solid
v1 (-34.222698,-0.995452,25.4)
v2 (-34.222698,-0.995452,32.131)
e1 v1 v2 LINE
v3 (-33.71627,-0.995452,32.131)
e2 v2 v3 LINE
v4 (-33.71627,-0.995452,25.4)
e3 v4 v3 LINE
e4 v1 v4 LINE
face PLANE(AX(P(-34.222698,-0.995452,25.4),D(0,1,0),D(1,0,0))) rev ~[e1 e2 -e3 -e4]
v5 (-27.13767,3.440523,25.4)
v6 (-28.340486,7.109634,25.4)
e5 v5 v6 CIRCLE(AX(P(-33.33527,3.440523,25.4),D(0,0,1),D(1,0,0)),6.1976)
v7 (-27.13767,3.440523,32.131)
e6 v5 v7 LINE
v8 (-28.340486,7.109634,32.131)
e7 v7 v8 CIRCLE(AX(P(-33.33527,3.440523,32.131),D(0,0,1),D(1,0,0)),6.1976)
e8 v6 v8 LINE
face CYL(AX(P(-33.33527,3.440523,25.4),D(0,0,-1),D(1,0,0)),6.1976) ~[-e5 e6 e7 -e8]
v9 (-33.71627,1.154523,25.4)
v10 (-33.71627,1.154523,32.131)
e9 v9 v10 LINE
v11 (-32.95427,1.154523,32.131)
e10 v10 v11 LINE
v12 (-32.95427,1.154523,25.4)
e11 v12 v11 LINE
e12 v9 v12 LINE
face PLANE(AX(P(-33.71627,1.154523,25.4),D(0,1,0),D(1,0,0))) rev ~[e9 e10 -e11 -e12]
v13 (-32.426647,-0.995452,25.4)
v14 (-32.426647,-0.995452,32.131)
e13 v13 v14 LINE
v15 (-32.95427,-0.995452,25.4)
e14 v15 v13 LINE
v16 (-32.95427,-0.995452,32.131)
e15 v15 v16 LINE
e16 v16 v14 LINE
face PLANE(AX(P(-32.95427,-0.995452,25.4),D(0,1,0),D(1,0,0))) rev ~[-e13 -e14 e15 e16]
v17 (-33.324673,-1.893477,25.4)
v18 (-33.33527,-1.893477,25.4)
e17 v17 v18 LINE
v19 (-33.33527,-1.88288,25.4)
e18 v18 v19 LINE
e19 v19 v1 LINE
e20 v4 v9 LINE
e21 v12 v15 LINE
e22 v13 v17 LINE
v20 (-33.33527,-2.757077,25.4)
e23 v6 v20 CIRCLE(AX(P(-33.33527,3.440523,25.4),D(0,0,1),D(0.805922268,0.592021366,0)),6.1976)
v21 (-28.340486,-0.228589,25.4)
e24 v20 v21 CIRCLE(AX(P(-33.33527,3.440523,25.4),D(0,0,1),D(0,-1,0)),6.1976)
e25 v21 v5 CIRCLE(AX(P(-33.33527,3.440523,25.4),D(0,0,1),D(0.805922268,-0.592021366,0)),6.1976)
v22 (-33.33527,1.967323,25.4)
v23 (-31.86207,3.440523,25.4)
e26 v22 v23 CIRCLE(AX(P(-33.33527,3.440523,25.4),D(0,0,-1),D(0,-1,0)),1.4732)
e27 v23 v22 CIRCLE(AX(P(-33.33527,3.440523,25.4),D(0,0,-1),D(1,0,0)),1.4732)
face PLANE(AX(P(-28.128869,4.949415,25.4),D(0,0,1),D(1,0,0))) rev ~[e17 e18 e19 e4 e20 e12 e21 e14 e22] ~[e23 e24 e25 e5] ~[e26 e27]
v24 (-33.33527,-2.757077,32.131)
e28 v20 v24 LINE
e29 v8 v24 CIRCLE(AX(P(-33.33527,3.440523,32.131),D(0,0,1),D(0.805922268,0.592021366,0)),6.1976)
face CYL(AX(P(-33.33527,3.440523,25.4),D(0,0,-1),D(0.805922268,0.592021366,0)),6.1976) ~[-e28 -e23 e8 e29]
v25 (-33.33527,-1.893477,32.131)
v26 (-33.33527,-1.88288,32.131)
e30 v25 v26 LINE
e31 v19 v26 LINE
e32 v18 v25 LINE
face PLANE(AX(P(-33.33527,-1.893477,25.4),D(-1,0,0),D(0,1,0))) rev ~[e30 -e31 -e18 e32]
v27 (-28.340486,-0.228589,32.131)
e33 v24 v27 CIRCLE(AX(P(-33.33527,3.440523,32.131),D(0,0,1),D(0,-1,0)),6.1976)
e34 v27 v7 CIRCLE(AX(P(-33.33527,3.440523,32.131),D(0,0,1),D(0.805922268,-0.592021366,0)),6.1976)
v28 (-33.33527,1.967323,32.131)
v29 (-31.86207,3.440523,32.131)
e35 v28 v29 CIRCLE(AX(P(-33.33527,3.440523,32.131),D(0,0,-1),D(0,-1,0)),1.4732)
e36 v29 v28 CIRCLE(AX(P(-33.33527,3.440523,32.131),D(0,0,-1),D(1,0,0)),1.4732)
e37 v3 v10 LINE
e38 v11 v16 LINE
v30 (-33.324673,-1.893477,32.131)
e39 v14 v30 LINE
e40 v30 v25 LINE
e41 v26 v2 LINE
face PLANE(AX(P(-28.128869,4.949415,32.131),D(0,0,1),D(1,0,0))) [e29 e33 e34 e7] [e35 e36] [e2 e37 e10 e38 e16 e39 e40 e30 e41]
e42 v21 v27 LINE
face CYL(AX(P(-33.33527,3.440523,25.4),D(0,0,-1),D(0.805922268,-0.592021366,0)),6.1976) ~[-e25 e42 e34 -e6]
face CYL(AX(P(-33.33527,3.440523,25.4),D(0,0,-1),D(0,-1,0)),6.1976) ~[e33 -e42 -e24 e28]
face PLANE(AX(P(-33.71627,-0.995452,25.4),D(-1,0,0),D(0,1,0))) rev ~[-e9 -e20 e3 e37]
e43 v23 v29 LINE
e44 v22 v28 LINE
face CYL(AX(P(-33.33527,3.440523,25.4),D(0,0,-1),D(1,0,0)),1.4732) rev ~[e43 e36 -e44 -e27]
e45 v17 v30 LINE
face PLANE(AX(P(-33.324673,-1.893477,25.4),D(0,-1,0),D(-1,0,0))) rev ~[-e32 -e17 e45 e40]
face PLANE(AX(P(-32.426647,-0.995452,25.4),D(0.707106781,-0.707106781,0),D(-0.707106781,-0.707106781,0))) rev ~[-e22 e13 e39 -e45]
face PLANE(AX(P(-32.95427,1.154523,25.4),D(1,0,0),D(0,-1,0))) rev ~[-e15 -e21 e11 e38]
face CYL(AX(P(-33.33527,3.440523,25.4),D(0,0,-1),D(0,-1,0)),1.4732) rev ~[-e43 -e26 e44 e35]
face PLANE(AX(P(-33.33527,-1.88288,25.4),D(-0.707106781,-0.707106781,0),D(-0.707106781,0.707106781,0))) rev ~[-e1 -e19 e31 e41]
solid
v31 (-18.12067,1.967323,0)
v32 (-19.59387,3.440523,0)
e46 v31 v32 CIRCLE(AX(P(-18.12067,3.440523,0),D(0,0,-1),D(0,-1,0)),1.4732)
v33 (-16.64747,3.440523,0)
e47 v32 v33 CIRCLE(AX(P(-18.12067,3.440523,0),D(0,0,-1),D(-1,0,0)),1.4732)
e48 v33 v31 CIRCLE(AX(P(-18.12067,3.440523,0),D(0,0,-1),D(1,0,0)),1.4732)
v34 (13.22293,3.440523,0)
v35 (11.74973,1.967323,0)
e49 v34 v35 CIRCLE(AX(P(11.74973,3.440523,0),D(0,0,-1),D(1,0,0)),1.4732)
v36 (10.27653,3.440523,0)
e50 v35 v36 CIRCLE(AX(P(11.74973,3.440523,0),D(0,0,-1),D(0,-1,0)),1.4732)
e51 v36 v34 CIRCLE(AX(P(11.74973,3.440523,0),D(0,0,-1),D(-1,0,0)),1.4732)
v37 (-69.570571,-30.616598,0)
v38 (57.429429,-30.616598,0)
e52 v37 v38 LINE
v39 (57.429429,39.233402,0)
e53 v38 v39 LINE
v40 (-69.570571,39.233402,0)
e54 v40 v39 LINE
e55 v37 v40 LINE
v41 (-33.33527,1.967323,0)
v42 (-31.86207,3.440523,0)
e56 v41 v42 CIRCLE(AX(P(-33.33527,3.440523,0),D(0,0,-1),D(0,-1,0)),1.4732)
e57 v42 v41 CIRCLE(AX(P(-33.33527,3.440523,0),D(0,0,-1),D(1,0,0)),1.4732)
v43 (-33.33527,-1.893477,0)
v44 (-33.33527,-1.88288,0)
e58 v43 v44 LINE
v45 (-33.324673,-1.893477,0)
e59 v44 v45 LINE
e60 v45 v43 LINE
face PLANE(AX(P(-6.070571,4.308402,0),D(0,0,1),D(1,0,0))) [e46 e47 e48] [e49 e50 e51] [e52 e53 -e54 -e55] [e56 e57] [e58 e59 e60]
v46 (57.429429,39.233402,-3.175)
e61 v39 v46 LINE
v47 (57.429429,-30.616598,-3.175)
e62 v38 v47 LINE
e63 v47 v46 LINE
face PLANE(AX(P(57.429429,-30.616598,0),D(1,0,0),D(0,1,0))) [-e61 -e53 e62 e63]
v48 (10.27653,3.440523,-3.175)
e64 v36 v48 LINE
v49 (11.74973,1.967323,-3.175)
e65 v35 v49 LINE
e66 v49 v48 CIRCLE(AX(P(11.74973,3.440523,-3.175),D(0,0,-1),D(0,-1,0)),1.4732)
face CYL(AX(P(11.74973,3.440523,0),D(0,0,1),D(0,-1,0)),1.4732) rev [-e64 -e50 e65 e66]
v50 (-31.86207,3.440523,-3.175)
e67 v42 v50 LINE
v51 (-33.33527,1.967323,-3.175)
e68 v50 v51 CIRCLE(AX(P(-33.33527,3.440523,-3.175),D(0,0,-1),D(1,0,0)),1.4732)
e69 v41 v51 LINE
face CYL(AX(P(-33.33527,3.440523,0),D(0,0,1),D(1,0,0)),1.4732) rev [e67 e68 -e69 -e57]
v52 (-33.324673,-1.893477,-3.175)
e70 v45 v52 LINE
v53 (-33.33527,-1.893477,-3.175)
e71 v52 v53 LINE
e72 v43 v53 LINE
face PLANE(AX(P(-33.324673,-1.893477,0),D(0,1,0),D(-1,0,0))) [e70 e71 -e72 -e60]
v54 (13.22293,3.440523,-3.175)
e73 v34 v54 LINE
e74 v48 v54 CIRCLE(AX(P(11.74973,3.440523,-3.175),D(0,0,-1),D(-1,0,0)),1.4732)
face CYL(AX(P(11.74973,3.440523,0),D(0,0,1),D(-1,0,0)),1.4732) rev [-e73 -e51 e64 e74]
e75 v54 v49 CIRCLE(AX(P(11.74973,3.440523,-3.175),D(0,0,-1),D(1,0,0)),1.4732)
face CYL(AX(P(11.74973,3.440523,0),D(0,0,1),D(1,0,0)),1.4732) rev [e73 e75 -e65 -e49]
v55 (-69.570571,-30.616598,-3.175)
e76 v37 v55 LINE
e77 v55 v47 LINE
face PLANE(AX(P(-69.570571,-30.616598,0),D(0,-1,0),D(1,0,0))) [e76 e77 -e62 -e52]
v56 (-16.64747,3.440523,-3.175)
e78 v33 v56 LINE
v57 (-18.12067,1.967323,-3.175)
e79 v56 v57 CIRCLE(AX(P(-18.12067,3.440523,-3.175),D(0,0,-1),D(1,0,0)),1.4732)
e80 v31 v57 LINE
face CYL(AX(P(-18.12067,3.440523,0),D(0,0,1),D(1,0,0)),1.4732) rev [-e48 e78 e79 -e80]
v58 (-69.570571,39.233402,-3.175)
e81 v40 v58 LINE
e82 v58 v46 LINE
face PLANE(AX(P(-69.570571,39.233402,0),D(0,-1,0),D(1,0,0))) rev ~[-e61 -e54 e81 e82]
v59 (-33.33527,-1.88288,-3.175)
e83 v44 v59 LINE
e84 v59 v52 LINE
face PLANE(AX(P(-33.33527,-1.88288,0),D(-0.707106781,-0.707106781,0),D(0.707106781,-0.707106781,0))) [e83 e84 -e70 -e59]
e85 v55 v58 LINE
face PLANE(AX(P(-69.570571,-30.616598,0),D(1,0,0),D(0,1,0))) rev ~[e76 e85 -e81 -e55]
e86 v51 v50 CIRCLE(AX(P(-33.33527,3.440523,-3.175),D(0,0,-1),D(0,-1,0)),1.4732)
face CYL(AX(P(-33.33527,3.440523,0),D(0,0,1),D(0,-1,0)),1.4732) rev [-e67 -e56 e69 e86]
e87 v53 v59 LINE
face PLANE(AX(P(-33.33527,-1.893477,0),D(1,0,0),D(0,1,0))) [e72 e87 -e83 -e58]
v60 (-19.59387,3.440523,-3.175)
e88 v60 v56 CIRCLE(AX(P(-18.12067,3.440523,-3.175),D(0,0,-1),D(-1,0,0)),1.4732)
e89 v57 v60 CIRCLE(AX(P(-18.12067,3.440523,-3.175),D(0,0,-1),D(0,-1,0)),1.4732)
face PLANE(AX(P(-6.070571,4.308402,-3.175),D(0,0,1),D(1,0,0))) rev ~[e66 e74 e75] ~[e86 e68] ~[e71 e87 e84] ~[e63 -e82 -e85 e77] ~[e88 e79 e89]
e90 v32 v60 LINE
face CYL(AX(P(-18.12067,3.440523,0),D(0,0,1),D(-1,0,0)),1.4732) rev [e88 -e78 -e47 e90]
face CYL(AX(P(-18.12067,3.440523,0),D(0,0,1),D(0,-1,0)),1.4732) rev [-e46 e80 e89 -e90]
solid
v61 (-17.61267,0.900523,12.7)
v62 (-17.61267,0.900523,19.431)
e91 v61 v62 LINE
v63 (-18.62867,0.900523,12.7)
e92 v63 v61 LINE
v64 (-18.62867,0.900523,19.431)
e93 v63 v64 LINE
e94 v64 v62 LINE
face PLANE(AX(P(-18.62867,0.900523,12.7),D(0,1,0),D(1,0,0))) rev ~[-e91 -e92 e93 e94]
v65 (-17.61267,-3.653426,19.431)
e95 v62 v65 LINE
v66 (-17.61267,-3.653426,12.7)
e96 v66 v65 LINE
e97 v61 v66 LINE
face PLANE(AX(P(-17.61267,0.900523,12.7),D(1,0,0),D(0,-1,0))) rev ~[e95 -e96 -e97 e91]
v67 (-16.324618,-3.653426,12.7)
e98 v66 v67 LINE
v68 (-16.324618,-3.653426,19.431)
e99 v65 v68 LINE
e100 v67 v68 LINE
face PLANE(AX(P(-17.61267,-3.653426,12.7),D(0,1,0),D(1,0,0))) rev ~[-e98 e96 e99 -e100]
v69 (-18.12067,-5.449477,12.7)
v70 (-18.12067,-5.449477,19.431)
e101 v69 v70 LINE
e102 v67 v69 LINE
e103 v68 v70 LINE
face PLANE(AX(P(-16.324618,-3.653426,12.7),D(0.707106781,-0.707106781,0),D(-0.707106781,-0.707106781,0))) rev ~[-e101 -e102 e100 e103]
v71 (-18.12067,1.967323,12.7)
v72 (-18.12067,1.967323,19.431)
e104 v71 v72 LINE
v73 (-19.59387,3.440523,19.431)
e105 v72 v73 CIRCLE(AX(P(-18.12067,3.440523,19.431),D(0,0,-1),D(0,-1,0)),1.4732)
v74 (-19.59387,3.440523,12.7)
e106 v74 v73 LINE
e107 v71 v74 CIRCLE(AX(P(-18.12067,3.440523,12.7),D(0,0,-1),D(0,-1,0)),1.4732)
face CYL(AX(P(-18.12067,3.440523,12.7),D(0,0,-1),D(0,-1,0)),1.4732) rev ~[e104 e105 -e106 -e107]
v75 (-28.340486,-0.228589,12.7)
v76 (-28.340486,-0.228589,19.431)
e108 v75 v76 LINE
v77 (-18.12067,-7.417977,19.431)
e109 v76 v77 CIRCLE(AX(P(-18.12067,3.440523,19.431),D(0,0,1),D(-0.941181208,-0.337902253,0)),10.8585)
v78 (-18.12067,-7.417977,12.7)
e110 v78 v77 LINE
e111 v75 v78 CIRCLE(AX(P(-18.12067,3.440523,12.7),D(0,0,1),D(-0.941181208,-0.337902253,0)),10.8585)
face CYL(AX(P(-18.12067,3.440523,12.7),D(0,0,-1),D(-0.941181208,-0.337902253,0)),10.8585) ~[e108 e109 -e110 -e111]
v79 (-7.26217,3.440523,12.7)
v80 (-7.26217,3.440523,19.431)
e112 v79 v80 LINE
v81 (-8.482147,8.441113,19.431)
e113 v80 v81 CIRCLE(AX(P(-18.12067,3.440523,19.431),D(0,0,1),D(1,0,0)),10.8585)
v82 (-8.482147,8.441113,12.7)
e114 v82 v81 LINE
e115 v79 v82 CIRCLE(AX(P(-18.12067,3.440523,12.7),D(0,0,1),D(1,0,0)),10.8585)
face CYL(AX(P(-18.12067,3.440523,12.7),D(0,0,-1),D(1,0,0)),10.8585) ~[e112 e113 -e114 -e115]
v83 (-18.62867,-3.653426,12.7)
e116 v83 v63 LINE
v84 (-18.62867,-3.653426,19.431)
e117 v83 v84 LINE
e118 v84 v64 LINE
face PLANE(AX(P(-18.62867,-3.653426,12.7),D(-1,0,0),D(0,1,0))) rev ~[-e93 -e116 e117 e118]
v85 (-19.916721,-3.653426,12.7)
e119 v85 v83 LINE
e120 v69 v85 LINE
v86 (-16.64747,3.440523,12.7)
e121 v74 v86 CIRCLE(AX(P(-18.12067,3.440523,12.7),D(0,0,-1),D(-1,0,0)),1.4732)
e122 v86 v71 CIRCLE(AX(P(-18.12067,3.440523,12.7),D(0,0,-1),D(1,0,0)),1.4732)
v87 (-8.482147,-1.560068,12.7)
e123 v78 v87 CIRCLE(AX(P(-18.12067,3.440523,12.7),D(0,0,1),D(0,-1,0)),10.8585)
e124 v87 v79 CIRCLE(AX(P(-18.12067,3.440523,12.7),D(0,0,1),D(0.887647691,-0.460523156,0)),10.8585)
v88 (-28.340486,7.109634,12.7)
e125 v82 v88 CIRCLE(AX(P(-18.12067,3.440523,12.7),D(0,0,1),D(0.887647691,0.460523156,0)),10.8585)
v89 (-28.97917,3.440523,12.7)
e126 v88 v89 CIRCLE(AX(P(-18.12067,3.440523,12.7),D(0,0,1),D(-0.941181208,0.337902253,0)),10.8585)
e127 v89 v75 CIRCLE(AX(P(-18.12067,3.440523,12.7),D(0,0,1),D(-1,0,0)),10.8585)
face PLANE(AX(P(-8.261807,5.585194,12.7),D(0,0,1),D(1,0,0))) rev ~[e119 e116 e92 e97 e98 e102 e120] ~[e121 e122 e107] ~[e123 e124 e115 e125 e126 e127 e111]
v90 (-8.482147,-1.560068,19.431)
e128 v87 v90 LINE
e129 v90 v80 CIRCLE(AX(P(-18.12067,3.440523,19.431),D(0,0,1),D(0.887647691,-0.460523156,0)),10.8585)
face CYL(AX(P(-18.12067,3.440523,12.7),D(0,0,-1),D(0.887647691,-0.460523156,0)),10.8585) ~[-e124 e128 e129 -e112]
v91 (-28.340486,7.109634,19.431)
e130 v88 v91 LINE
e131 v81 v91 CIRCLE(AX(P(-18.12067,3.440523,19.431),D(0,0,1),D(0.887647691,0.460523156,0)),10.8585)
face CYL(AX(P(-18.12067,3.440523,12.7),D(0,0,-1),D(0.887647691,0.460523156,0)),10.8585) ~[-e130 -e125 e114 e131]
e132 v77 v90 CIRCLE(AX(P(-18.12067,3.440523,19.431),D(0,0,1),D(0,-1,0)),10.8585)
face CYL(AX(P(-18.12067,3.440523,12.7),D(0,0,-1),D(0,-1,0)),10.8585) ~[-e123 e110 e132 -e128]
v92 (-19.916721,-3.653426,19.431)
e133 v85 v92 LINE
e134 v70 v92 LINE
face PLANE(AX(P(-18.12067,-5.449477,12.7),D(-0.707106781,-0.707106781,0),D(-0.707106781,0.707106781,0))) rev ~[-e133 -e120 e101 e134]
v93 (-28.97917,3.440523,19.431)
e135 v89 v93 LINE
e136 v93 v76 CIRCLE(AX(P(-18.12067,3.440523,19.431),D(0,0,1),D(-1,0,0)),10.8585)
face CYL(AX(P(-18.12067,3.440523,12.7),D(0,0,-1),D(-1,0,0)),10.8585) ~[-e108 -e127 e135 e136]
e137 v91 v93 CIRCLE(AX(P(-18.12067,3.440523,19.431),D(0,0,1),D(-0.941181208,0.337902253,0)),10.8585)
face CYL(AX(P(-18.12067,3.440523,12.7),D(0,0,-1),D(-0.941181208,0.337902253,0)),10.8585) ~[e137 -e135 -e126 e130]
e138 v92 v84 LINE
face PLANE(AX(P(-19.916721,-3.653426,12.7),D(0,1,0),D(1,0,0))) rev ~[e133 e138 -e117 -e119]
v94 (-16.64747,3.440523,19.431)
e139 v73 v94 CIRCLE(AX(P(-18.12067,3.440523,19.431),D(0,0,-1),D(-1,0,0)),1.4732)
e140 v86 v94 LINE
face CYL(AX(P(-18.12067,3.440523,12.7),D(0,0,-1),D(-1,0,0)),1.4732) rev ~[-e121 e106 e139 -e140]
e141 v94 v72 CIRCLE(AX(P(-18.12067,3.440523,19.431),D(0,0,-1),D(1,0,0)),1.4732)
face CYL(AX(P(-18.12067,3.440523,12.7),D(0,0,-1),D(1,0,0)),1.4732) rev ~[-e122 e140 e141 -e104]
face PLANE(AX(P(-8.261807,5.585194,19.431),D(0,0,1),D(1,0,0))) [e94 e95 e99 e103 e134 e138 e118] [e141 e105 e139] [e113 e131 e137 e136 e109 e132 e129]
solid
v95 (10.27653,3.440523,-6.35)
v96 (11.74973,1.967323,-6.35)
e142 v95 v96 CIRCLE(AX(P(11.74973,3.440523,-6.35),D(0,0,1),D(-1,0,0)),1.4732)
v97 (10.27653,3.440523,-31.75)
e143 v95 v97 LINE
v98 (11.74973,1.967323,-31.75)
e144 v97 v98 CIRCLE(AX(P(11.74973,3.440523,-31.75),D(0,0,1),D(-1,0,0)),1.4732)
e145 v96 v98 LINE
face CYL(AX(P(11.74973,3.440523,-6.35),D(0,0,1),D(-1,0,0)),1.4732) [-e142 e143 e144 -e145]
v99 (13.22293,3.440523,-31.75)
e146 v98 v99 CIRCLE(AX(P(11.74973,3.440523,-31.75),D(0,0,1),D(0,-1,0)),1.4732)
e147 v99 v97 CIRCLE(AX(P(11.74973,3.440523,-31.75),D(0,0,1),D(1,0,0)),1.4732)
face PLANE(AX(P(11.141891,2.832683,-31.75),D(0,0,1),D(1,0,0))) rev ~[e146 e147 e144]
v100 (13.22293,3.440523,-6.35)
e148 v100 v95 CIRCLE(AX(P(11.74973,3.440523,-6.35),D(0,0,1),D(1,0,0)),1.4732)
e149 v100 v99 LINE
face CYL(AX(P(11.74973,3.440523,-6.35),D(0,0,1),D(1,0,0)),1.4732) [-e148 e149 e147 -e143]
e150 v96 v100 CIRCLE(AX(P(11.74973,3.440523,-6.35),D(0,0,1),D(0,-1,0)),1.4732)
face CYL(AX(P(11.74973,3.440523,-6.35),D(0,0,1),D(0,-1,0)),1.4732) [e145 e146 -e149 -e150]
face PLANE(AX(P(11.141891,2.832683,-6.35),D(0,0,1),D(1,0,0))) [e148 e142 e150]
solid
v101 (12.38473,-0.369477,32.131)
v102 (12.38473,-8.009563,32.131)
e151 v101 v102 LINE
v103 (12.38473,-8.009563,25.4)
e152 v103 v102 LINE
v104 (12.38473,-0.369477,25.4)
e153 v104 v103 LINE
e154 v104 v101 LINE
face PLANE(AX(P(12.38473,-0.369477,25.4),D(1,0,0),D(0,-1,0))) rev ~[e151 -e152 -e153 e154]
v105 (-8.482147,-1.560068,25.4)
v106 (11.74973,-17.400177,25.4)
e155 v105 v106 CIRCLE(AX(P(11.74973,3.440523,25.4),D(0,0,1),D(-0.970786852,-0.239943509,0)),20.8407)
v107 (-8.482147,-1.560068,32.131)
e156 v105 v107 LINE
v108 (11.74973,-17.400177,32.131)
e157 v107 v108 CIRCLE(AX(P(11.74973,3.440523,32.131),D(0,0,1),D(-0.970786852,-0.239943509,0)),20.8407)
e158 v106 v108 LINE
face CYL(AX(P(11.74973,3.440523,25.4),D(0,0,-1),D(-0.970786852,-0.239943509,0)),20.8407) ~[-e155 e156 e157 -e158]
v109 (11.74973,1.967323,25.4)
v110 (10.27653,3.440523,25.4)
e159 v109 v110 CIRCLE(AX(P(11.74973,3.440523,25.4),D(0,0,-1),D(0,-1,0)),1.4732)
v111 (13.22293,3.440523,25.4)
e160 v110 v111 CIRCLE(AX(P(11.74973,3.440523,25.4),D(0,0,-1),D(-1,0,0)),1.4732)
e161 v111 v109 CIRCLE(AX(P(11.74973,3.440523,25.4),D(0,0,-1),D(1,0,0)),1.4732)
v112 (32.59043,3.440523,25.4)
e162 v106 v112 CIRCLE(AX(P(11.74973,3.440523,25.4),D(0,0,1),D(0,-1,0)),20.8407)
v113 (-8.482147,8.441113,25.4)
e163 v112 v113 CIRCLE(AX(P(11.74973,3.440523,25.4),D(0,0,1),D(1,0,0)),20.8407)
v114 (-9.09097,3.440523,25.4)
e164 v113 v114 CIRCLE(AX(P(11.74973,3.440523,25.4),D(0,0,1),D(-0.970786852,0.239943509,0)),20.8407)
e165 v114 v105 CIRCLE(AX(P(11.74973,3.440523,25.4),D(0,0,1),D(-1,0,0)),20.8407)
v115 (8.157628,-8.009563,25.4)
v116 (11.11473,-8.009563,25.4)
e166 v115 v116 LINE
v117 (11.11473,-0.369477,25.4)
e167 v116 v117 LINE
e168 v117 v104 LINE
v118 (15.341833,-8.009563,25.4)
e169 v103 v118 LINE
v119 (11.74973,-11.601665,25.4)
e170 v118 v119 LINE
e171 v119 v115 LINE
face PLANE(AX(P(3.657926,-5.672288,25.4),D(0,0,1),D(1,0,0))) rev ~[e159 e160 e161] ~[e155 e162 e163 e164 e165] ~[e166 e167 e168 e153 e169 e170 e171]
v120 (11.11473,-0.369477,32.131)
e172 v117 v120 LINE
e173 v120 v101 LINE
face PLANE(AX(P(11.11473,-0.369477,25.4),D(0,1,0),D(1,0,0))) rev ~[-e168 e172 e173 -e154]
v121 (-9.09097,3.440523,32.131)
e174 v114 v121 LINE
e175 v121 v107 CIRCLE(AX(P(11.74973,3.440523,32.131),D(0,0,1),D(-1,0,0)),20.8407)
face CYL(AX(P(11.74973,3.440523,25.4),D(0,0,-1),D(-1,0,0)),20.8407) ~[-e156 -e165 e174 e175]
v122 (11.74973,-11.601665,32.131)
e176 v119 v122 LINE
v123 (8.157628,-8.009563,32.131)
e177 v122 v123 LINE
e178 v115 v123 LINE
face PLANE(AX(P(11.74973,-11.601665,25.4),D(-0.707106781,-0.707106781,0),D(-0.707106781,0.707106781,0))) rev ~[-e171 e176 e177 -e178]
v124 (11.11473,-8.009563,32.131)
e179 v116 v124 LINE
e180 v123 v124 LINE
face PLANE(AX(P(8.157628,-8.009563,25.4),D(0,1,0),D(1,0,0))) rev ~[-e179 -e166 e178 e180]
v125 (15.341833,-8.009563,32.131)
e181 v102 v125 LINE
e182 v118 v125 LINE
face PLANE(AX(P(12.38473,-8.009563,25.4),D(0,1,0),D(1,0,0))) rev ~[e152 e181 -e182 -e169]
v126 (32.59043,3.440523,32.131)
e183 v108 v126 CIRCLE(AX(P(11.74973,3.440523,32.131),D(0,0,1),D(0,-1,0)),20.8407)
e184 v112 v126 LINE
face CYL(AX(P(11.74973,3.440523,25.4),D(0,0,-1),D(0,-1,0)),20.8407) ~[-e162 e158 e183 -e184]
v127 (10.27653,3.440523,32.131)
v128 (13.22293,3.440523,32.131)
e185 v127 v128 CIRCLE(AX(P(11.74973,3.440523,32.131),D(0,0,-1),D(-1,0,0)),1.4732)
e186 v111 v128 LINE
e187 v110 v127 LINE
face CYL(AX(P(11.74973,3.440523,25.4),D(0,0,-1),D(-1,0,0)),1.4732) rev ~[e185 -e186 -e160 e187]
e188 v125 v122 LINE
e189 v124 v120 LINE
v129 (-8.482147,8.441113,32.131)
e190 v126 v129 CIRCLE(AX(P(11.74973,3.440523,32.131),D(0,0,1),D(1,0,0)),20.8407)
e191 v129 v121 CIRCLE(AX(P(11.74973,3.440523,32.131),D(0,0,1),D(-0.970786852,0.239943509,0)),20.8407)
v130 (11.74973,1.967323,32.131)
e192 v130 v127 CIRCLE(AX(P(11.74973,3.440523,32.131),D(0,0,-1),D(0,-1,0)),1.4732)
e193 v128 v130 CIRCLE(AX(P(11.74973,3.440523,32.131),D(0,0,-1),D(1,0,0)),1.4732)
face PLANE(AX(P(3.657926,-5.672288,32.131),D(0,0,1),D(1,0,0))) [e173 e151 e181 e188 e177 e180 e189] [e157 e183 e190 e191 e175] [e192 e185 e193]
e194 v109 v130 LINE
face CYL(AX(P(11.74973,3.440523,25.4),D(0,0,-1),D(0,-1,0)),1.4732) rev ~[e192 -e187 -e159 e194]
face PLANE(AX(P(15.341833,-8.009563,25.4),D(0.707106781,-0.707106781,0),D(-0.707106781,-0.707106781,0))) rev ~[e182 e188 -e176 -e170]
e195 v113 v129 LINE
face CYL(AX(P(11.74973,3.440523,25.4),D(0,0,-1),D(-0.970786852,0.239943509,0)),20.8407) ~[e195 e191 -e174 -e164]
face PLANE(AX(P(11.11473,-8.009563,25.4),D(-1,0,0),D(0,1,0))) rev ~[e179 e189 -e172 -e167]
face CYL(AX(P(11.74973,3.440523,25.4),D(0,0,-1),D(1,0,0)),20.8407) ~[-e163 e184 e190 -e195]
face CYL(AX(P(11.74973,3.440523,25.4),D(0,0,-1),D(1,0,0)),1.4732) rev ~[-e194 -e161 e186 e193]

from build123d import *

# Parameters (mm, degrees)
F0_W     = 127
F0_H     = 69.85
F0_W_2   = 0.381
F0_H_2   = 2.1499743879
F0_W_3   = 0.508
F0_H_3   = 4.5539487758
F0_W_4   = 0.635
F0_H_4   = 7.6400852611
F1_DEPTH = 3.175
F2_START = 25.4
F2_DEPTH = 6.731
F3_START = 25.4
F3_DEPTH = 6.731
F4_START = 12.7
F4_DEPTH = 6.731
F5_START = -6.35
F5_DEPTH = 25.4


with BuildPart() as f1:
    # F0 (on Top) → F1 (new body)
    with BuildSketch(Plane.XY):
        with Locations((-6.0705711842, 4.3084023254)):
            Rectangle(F0_W, F0_H)
        with BuildLine():
            ThreePointArc((-33.3352696088, -2.7570773477), (-38.8647330515, 6.2396796318), (-28.3404857607, 7.1096342711))
            ThreePointArc((-28.3404857607, 7.1096342711), (-18.8470887176, 14.2746971722), (-8.4821471598, 8.4411133425))
            ThreePointArc((-8.4821471598, 8.4411133425), (14.2684886182, 24.1284571428), (32.5904303912, 3.4405226523))
            ThreePointArc((32.5904303912, 3.4405226523), (26.4863306859, -11.2960776424), (11.7497303912, -17.4001773477))
            ThreePointArc((11.7497303912, -17.4001773477), (-1.0978173533, -12.9690871372), (-8.4821471598, -1.5600680379))
            ThreePointArc((-8.4821471598, -1.5600680379), (-12.4811612862, -5.8386458519), (-18.1206696088, -7.4179773477))
            ThreePointArc((-18.1206696088, -7.4179773477), (-24.3683081122, -5.4405828747), (-28.3404857607, -0.2285889665))
            ThreePointArc((-28.3404857607, -0.2285889665), (-30.5361126293, -2.0889407904), (-33.3352696088, -2.7570773477))
        make_face(mode=Mode.SUBTRACT)
        with BuildLine():
            Line((10.2765303912, 3.4405226523), (-7.2621696088, 3.4405226523))
            ThreePointArc((-7.2621696088, 3.4405226523), (-7.5715720582, 0.8668942566), (-8.4821471598, -1.5600680379))
            ThreePointArc((-8.4821471598, -1.5600680379), (-1.0978173533, -12.9690871372), (11.7497303912, -17.4001773477))
            Line((11.7497303912, -17.4001773477), (11.7497303912, -11.6016650572))
            Line((11.7497303912, -11.6016650572), (11.1147303912, -11.6016650572))
            Line((11.1147303912, -11.6016650572), (11.1147303912, -10.9666650572))
            Line((11.1147303912, -10.9666650572), (8.1576279428, -8.0095626088))
            Line((8.1576279428, -8.0095626088), (11.1147303912, -8.0095626088))
            Line((11.1147303912, -8.0095626088), (11.1147303912, -0.3694773477))
            Line((11.1147303912, -0.3694773477), (11.7497303912, -0.3694773477))
            Line((11.7497303912, -0.3694773477), (11.7497303912, 1.9673226523))
            ThreePointArc((11.7497303912, 1.9673226523), (10.7080206812, 2.3988129423), (10.2765303912, 3.4405226523))
        make_face()
        with BuildLine():
            ThreePointArc((32.5904303912, 3.4405226523), (14.2684886182, 24.1284571428), (-8.4821471598, 8.4411133425))
            ThreePointArc((-8.4821471598, 8.4411133425), (-7.5715720582, 6.0141510479), (-7.2621696088, 3.4405226523))
            Line((-7.2621696088, 3.4405226523), (10.2765303912, 3.4405226523))
            ThreePointArc((10.2765303912, 3.4405226523), (11.7497303912, 4.9137226523), (13.2229303912, 3.4405226523))
            ThreePointArc((13.2229303912, 3.4405226523), (12.7914401012, 2.3988129423), (11.7497303912, 1.9673226523))
            Line((11.7497303912, 1.9673226523), (11.7497303912, -0.3694773477))
            Line((11.7497303912, -0.3694773477), (12.3847303912, -0.3694773477))
            Line((12.3847303912, -0.3694773477), (12.3847303912, -8.0095626088))
            Line((12.3847303912, -8.0095626088), (15.3418328396, -8.0095626088))
            Line((15.3418328396, -8.0095626088), (12.3847303912, -10.9666650572))
            Line((12.3847303912, -10.9666650572), (12.3847303912, -11.6016650572))
            Line((12.3847303912, -11.6016650572), (11.7497303912, -11.6016650572))
            Line((11.7497303912, -11.6016650572), (11.7497303912, -17.4001773477))
            ThreePointArc((11.7497303912, -17.4001773477), (26.4863306859, -11.2960776424), (32.5904303912, 3.4405226523))
        make_face()
        with BuildLine():
            ThreePointArc((-28.3404857607, 7.1096342711), (-27.4460456303, 5.3711408672), (-27.1376696088, 3.4405226523))
            Line((-27.1376696088, 3.4405226523), (-19.5938696088, 3.4405226523))
            ThreePointArc((-19.5938696088, 3.4405226523), (-18.1206696088, 4.9137226523), (-16.6474696088, 3.4405226523))
            Line((-16.6474696088, 3.4405226523), (-9.0909696088, 3.4405226523))
            ThreePointArc((-9.0909696088, 3.4405226523), (-8.9382040993, 5.9592808793), (-8.4821471598, 8.4411133425))
            ThreePointArc((-8.4821471598, 8.4411133425), (-18.8470887176, 14.2746971722), (-28.3404857607, 7.1096342711))
        make_face()
        with BuildLine():
            ThreePointArc((-33.3352696088, 1.9673226523), (-34.3769793188, 4.4822323623), (-31.8620696088, 3.4405226523))
            Line((-31.8620696088, 3.4405226523), (-28.9791696088, 3.4405226523))
            ThreePointArc((-28.9791696088, 3.4405226523), (-28.8183071035, 5.3026650427), (-28.3404857607, 7.1096342711))
            ThreePointArc((-28.3404857607, 7.1096342711), (-38.8647330515, 6.2396796318), (-33.3352696088, -2.7570773477))
            Line((-33.3352696088, -2.7570773477), (-33.3352696088, -1.8934773477))
            Line((-33.3352696088, -1.8934773477), (-33.3352696088, -1.8828803738))
            Line((-33.3352696088, -1.8828803738), (-34.222698247, -0.9954517356))
            Line((-34.222698247, -0.9954517356), (-33.7162696088, -0.9954517356))
            Line((-33.7162696088, -0.9954517356), (-33.7162696088, 1.1545226523))
            Line((-33.7162696088, 1.1545226523), (-33.3352696088, 1.1545226523))
            Line((-33.3352696088, 1.1545226523), (-33.3352696088, 1.9673226523))
        make_face()
        with BuildLine():
            Line((-28.9791696088, 3.4405226523), (-31.8620696088, 3.4405226523))
            ThreePointArc((-31.8620696088, 3.4405226523), (-32.2935598988, 2.3988129423), (-33.3352696088, 1.9673226523))
            Line((-33.3352696088, 1.9673226523), (-33.3352696088, 1.1545226523))
            Line((-33.3352696088, 1.1545226523), (-32.9542696088, 1.1545226523))
            Line((-32.9542696088, 1.1545226523), (-32.9542696088, -0.9954517356))
            Line((-32.9542696088, -0.9954517356), (-32.4266470228, -0.9954517356))
            Line((-32.4266470228, -0.9954517356), (-32.9542696088, -1.5230743216))
            Line((-32.9542696088, -1.5230743216), (-32.9542696088, -1.8934773477))
            Line((-32.9542696088, -1.8934773477), (-33.3246726349, -1.8934773477))
            Line((-33.3246726349, -1.8934773477), (-33.3352696088, -1.8934773477))
            Line((-33.3352696088, -1.8934773477), (-33.3352696088, -2.7570773477))
            ThreePointArc((-33.3352696088, -2.7570773477), (-30.5361126293, -2.0889407904), (-28.3404857607, -0.2285889665))
            ThreePointArc((-28.3404857607, -0.2285889665), (-28.8183071035, 1.5783802619), (-28.9791696088, 3.4405226523))
        make_face()
        with BuildLine():
            Line((-27.1376696088, 3.4405226523), (-28.9791696088, 3.4405226523))
            ThreePointArc((-28.9791696088, 3.4405226523), (-28.8183071035, 1.5783802619), (-28.3404857607, -0.2285889665))
            ThreePointArc((-28.3404857607, -0.2285889665), (-27.4460456303, 1.5099044374), (-27.1376696088, 3.4405226523))
        make_face()
        with BuildLine():
            ThreePointArc((-28.3404857607, 7.1096342711), (-28.8183071035, 5.3026650427), (-28.9791696088, 3.4405226523))
            Line((-28.9791696088, 3.4405226523), (-27.1376696088, 3.4405226523))
            ThreePointArc((-27.1376696088, 3.4405226523), (-27.4460456303, 5.3711408672), (-28.3404857607, 7.1096342711))
        make_face()
        with BuildLine():
            Line((-7.2621696088, 3.4405226523), (-9.0909696088, 3.4405226523))
            ThreePointArc((-9.0909696088, 3.4405226523), (-8.9382040993, 0.9217644253), (-8.4821471598, -1.5600680379))
            ThreePointArc((-8.4821471598, -1.5600680379), (-7.5715720582, 0.8668942566), (-7.2621696088, 3.4405226523))
        make_face()
        with BuildLine():
            ThreePointArc((-7.2621696088, 3.4405226523), (-7.5715720582, 6.0141510479), (-8.4821471598, 8.4411133425))
            ThreePointArc((-8.4821471598, 8.4411133425), (-8.9382040993, 5.9592808793), (-9.0909696088, 3.4405226523))
            Line((-9.0909696088, 3.4405226523), (-7.2621696088, 3.4405226523))
        make_face()
        with Locations((-33.5257696088, 0.0795354583)):
            Rectangle(F0_W_2, F0_H_2)
        Polygon((-33.3352696088, -1.8828803738), (-33.3352696088, -0.9954517356), (-33.7162696088, -0.9954517356), (-34.222698247, -0.9954517356), align=None)
        with Locations((-33.1447696088, 0.0795354583)):
            Rectangle(F0_W_2, F0_H_2)
        Polygon((-32.9542696088, -0.9954517356), (-33.3352696088, -0.9954517356), (-33.3352696088, -1.8828803738), (-33.3246726349, -1.8934773477), (-32.9542696088, -1.5230743216), align=None)
        Polygon((-32.4266470228, -0.9954517356), (-32.9542696088, -0.9954517356), (-32.9542696088, -1.5230743216), align=None)
        Polygon((-32.9542696088, -1.5230743216), (-33.3246726349, -1.8934773477), (-32.9542696088, -1.8934773477), align=None)
        with BuildLine():
            Line((-18.1206696088, -5.4494773477), (-18.1206696088, -7.4179773477))
            ThreePointArc((-18.1206696088, -7.4179773477), (-12.4811612862, -5.8386458519), (-8.4821471598, -1.5600680379))
            ThreePointArc((-8.4821471598, -1.5600680379), (-8.9382040993, 0.9217644253), (-9.0909696088, 3.4405226523))
            Line((-9.0909696088, 3.4405226523), (-16.6474696088, 3.4405226523))
            ThreePointArc((-16.6474696088, 3.4405226523), (-17.0789598988, 2.3988129423), (-18.1206696088, 1.9673226523))
            Line((-18.1206696088, 1.9673226523), (-18.1206696088, 0.9005226523))
            Line((-18.1206696088, 0.9005226523), (-17.6126696088, 0.9005226523))
            Line((-17.6126696088, 0.9005226523), (-17.6126696088, -3.6534261235))
            Line((-17.6126696088, -3.6534261235), (-16.3246183846, -3.6534261235))
            Line((-16.3246183846, -3.6534261235), (-17.6126696088, -4.9414773477))
            Line((-17.6126696088, -4.9414773477), (-17.6126696088, -5.4494773477))
            Line((-17.6126696088, -5.4494773477), (-18.1206696088, -5.4494773477))
        make_face()
        with Locations((-18.3746696088, -1.3764517356)):
            Rectangle(F0_W_3, F0_H_3)
        with Locations((-17.8666696088, -1.3764517356)):
            Rectangle(F0_W_3, F0_H_3)
        Polygon((-19.916720833, -3.6534261235), (-18.6286696088, -4.9414773477), (-18.6286696088, -3.6534261235), align=None)
        Polygon((-18.6286696088, -4.9414773477), (-18.1206696088, -5.4494773477), (-18.1206696088, -3.6534261235), (-18.6286696088, -3.6534261235), align=None)
        Polygon((-18.1206696088, -3.6534261235), (-18.1206696088, -5.4494773477), (-17.6126696088, -4.9414773477), (-17.6126696088, -3.6534261235), align=None)
        Polygon((-17.6126696088, -3.6534261235), (-17.6126696088, -4.9414773477), (-16.3246183846, -3.6534261235), align=None)
        Polygon((-17.6126696088, -4.9414773477), (-18.1206696088, -5.4494773477), (-17.6126696088, -5.4494773477), align=None)
        Polygon((-18.6286696088, -5.4494773477), (-18.1206696088, -5.4494773477), (-18.6286696088, -4.9414773477), align=None)
        with BuildLine():
            Line((-19.5938696088, 3.4405226523), (-27.1376696088, 3.4405226523))
            ThreePointArc((-27.1376696088, 3.4405226523), (-27.4460456303, 1.5099044374), (-28.3404857607, -0.2285889665))
            ThreePointArc((-28.3404857607, -0.2285889665), (-24.3683081122, -5.4405828747), (-18.1206696088, -7.4179773477))
            Line((-18.1206696088, -7.4179773477), (-18.1206696088, -5.4494773477))
            Line((-18.1206696088, -5.4494773477), (-18.6286696088, -5.4494773477))
            Line((-18.6286696088, -5.4494773477), (-18.6286696088, -4.9414773477))
            Line((-18.6286696088, -4.9414773477), (-19.916720833, -3.6534261235))
            Line((-19.916720833, -3.6534261235), (-18.6286696088, -3.6534261235))
            Line((-18.6286696088, -3.6534261235), (-18.6286696088, 0.9005226523))
            Line((-18.6286696088, 0.9005226523), (-18.1206696088, 0.9005226523))
            Line((-18.1206696088, 0.9005226523), (-18.1206696088, 1.9673226523))
            ThreePointArc((-18.1206696088, 1.9673226523), (-19.1623793188, 2.3988129423), (-19.5938696088, 3.4405226523))
        make_face()
        Polygon((11.7497303912, -8.0095626088), (11.7497303912, -11.6016650572), (12.3847303912, -10.9666650572), (12.3847303912, -8.0095626088), align=None)
        Polygon((12.3847303912, -8.0095626088), (12.3847303912, -10.9666650572), (15.3418328396, -8.0095626088), align=None)
        Polygon((11.1147303912, -10.9666650572), (11.7497303912, -11.6016650572), (11.7497303912, -8.0095626088), (11.1147303912, -8.0095626088), align=None)
        Polygon((8.1576279428, -8.0095626088), (11.1147303912, -10.9666650572), (11.1147303912, -8.0095626088), align=None)
        with Locations((12.0672303912, -4.1895199783)):
            Rectangle(F0_W_4, F0_H_4)
        with Locations((11.4322303912, -4.1895199783)):
            Rectangle(F0_W_4, F0_H_4)
        Polygon((12.3847303912, -10.9666650572), (11.7497303912, -11.6016650572), (12.3847303912, -11.6016650572), align=None)
        Polygon((11.1147303912, -11.6016650572), (11.7497303912, -11.6016650572), (11.1147303912, -10.9666650572), align=None)
    extrude(amount=-F1_DEPTH)


with BuildPart() as f2:
    # F0 (on Top) → F2 (new body)
    with BuildSketch(Plane.XY.offset(F2_START)):
        with BuildLine():
            Line((10.2765303912, 3.4405226523), (-7.2621696088, 3.4405226523))
            ThreePointArc((-7.2621696088, 3.4405226523), (-7.5715720582, 0.8668942566), (-8.4821471598, -1.5600680379))
            ThreePointArc((-8.4821471598, -1.5600680379), (-1.0978173533, -12.9690871372), (11.7497303912, -17.4001773477))
            Line((11.7497303912, -17.4001773477), (11.7497303912, -11.6016650572))
            Line((11.7497303912, -11.6016650572), (11.1147303912, -11.6016650572))
            Line((11.1147303912, -11.6016650572), (11.1147303912, -10.9666650572))
            Line((11.1147303912, -10.9666650572), (8.1576279428, -8.0095626088))
            Line((8.1576279428, -8.0095626088), (11.1147303912, -8.0095626088))
            Line((11.1147303912, -8.0095626088), (11.1147303912, -0.3694773477))
            Line((11.1147303912, -0.3694773477), (11.7497303912, -0.3694773477))
            Line((11.7497303912, -0.3694773477), (11.7497303912, 1.9673226523))
            ThreePointArc((11.7497303912, 1.9673226523), (10.7080206812, 2.3988129423), (10.2765303912, 3.4405226523))
        make_face()
        with BuildLine():
            Line((-7.2621696088, 3.4405226523), (-9.0909696088, 3.4405226523))
            ThreePointArc((-9.0909696088, 3.4405226523), (-8.9382040993, 0.9217644253), (-8.4821471598, -1.5600680379))
            ThreePointArc((-8.4821471598, -1.5600680379), (-7.5715720582, 0.8668942566), (-7.2621696088, 3.4405226523))
        make_face()
        with BuildLine():
            ThreePointArc((-7.2621696088, 3.4405226523), (-7.5715720582, 6.0141510479), (-8.4821471598, 8.4411133425))
            ThreePointArc((-8.4821471598, 8.4411133425), (-8.9382040993, 5.9592808793), (-9.0909696088, 3.4405226523))
            Line((-9.0909696088, 3.4405226523), (-7.2621696088, 3.4405226523))
        make_face()
        Polygon((12.3847303912, -10.9666650572), (11.7497303912, -11.6016650572), (12.3847303912, -11.6016650572), align=None)
        Polygon((11.1147303912, -11.6016650572), (11.7497303912, -11.6016650572), (11.1147303912, -10.9666650572), align=None)
        with BuildLine():
            ThreePointArc((32.5904303912, 3.4405226523), (14.2684886182, 24.1284571428), (-8.4821471598, 8.4411133425))
            ThreePointArc((-8.4821471598, 8.4411133425), (-7.5715720582, 6.0141510479), (-7.2621696088, 3.4405226523))
            Line((-7.2621696088, 3.4405226523), (10.2765303912, 3.4405226523))
            ThreePointArc((10.2765303912, 3.4405226523), (11.7497303912, 4.9137226523), (13.2229303912, 3.4405226523))
            ThreePointArc((13.2229303912, 3.4405226523), (12.7914401012, 2.3988129423), (11.7497303912, 1.9673226523))
            Line((11.7497303912, 1.9673226523), (11.7497303912, -0.3694773477))
            Line((11.7497303912, -0.3694773477), (12.3847303912, -0.3694773477))
            Line((12.3847303912, -0.3694773477), (12.3847303912, -8.0095626088))
            Line((12.3847303912, -8.0095626088), (15.3418328396, -8.0095626088))
            Line((15.3418328396, -8.0095626088), (12.3847303912, -10.9666650572))
            Line((12.3847303912, -10.9666650572), (12.3847303912, -11.6016650572))
            Line((12.3847303912, -11.6016650572), (11.7497303912, -11.6016650572))
            Line((11.7497303912, -11.6016650572), (11.7497303912, -17.4001773477))
            ThreePointArc((11.7497303912, -17.4001773477), (26.4863306859, -11.2960776424), (32.5904303912, 3.4405226523))
        make_face()
    extrude(amount=F2_DEPTH)


with BuildPart() as f3:
    # F0 (on Top) → F3 (new body)
    with BuildSketch(Plane.XY.offset(F3_START)):
        with BuildLine():
            ThreePointArc((-28.3404857607, 7.1096342711), (-28.8183071035, 5.3026650427), (-28.9791696088, 3.4405226523))
            Line((-28.9791696088, 3.4405226523), (-27.1376696088, 3.4405226523))
            ThreePointArc((-27.1376696088, 3.4405226523), (-27.4460456303, 5.3711408672), (-28.3404857607, 7.1096342711))
        make_face()
        with BuildLine():
            Line((-27.1376696088, 3.4405226523), (-28.9791696088, 3.4405226523))
            ThreePointArc((-28.9791696088, 3.4405226523), (-28.8183071035, 1.5783802619), (-28.3404857607, -0.2285889665))
            ThreePointArc((-28.3404857607, -0.2285889665), (-27.4460456303, 1.5099044374), (-27.1376696088, 3.4405226523))
        make_face()
        with BuildLine():
            ThreePointArc((-33.3352696088, 1.9673226523), (-34.3769793188, 4.4822323623), (-31.8620696088, 3.4405226523))
            Line((-31.8620696088, 3.4405226523), (-28.9791696088, 3.4405226523))
            ThreePointArc((-28.9791696088, 3.4405226523), (-28.8183071035, 5.3026650427), (-28.3404857607, 7.1096342711))
            ThreePointArc((-28.3404857607, 7.1096342711), (-38.8647330515, 6.2396796318), (-33.3352696088, -2.7570773477))
            Line((-33.3352696088, -2.7570773477), (-33.3352696088, -1.8934773477))
            Line((-33.3352696088, -1.8934773477), (-33.3352696088, -1.8828803738))
            Line((-33.3352696088, -1.8828803738), (-34.222698247, -0.9954517356))
            Line((-34.222698247, -0.9954517356), (-33.7162696088, -0.9954517356))
            Line((-33.7162696088, -0.9954517356), (-33.7162696088, 1.1545226523))
            Line((-33.7162696088, 1.1545226523), (-33.3352696088, 1.1545226523))
            Line((-33.3352696088, 1.1545226523), (-33.3352696088, 1.9673226523))
        make_face()
        Polygon((-32.9542696088, -1.5230743216), (-33.3246726349, -1.8934773477), (-32.9542696088, -1.8934773477), align=None)
        with BuildLine():
            Line((-28.9791696088, 3.4405226523), (-31.8620696088, 3.4405226523))
            ThreePointArc((-31.8620696088, 3.4405226523), (-32.2935598988, 2.3988129423), (-33.3352696088, 1.9673226523))
            Line((-33.3352696088, 1.9673226523), (-33.3352696088, 1.1545226523))
            Line((-33.3352696088, 1.1545226523), (-32.9542696088, 1.1545226523))
            Line((-32.9542696088, 1.1545226523), (-32.9542696088, -0.9954517356))
            Line((-32.9542696088, -0.9954517356), (-32.4266470228, -0.9954517356))
            Line((-32.4266470228, -0.9954517356), (-32.9542696088, -1.5230743216))
            Line((-32.9542696088, -1.5230743216), (-32.9542696088, -1.8934773477))
            Line((-32.9542696088, -1.8934773477), (-33.3246726349, -1.8934773477))
            Line((-33.3246726349, -1.8934773477), (-33.3352696088, -1.8934773477))
            Line((-33.3352696088, -1.8934773477), (-33.3352696088, -2.7570773477))
            ThreePointArc((-33.3352696088, -2.7570773477), (-30.5361126293, -2.0889407904), (-28.3404857607, -0.2285889665))
            ThreePointArc((-28.3404857607, -0.2285889665), (-28.8183071035, 1.5783802619), (-28.9791696088, 3.4405226523))
        make_face()
    extrude(amount=F3_DEPTH)


with BuildPart() as f4:
    # F0 (on Top) → F4 (new body)
    with BuildSketch(Plane.XY.offset(F4_START)):
        with BuildLine():
            ThreePointArc((-7.2621696088, 3.4405226523), (-7.5715720582, 6.0141510479), (-8.4821471598, 8.4411133425))
            ThreePointArc((-8.4821471598, 8.4411133425), (-8.9382040993, 5.9592808793), (-9.0909696088, 3.4405226523))
            Line((-9.0909696088, 3.4405226523), (-7.2621696088, 3.4405226523))
        make_face()
        with BuildLine():
            Line((-7.2621696088, 3.4405226523), (-9.0909696088, 3.4405226523))
            ThreePointArc((-9.0909696088, 3.4405226523), (-8.9382040993, 0.9217644253), (-8.4821471598, -1.5600680379))
            ThreePointArc((-8.4821471598, -1.5600680379), (-7.5715720582, 0.8668942566), (-7.2621696088, 3.4405226523))
        make_face()
        with BuildLine():
            ThreePointArc((-28.3404857607, 7.1096342711), (-27.4460456303, 5.3711408672), (-27.1376696088, 3.4405226523))
            Line((-27.1376696088, 3.4405226523), (-19.5938696088, 3.4405226523))
            ThreePointArc((-19.5938696088, 3.4405226523), (-18.1206696088, 4.9137226523), (-16.6474696088, 3.4405226523))
            Line((-16.6474696088, 3.4405226523), (-9.0909696088, 3.4405226523))
            ThreePointArc((-9.0909696088, 3.4405226523), (-8.9382040993, 5.9592808793), (-8.4821471598, 8.4411133425))
            ThreePointArc((-8.4821471598, 8.4411133425), (-18.8470887176, 14.2746971722), (-28.3404857607, 7.1096342711))
        make_face()
        with BuildLine():
            Line((-19.5938696088, 3.4405226523), (-27.1376696088, 3.4405226523))
            ThreePointArc((-27.1376696088, 3.4405226523), (-27.4460456303, 1.5099044374), (-28.3404857607, -0.2285889665))
            ThreePointArc((-28.3404857607, -0.2285889665), (-24.3683081122, -5.4405828747), (-18.1206696088, -7.4179773477))
            Line((-18.1206696088, -7.4179773477), (-18.1206696088, -5.4494773477))
            Line((-18.1206696088, -5.4494773477), (-18.6286696088, -5.4494773477))
            Line((-18.6286696088, -5.4494773477), (-18.6286696088, -4.9414773477))
            Line((-18.6286696088, -4.9414773477), (-19.916720833, -3.6534261235))
            Line((-19.916720833, -3.6534261235), (-18.6286696088, -3.6534261235))
            Line((-18.6286696088, -3.6534261235), (-18.6286696088, 0.9005226523))
            Line((-18.6286696088, 0.9005226523), (-18.1206696088, 0.9005226523))
            Line((-18.1206696088, 0.9005226523), (-18.1206696088, 1.9673226523))
            ThreePointArc((-18.1206696088, 1.9673226523), (-19.1623793188, 2.3988129423), (-19.5938696088, 3.4405226523))
        make_face()
        with BuildLine():
            ThreePointArc((-28.3404857607, 7.1096342711), (-28.8183071035, 5.3026650427), (-28.9791696088, 3.4405226523))
            Line((-28.9791696088, 3.4405226523), (-27.1376696088, 3.4405226523))
            ThreePointArc((-27.1376696088, 3.4405226523), (-27.4460456303, 5.3711408672), (-28.3404857607, 7.1096342711))
        make_face()
        with BuildLine():
            Line((-27.1376696088, 3.4405226523), (-28.9791696088, 3.4405226523))
            ThreePointArc((-28.9791696088, 3.4405226523), (-28.8183071035, 1.5783802619), (-28.3404857607, -0.2285889665))
            ThreePointArc((-28.3404857607, -0.2285889665), (-27.4460456303, 1.5099044374), (-27.1376696088, 3.4405226523))
        make_face()
        with BuildLine():
            Line((-18.1206696088, -5.4494773477), (-18.1206696088, -7.4179773477))
            ThreePointArc((-18.1206696088, -7.4179773477), (-12.4811612862, -5.8386458519), (-8.4821471598, -1.5600680379))
            ThreePointArc((-8.4821471598, -1.5600680379), (-8.9382040993, 0.9217644253), (-9.0909696088, 3.4405226523))
            Line((-9.0909696088, 3.4405226523), (-16.6474696088, 3.4405226523))
            ThreePointArc((-16.6474696088, 3.4405226523), (-17.0789598988, 2.3988129423), (-18.1206696088, 1.9673226523))
            Line((-18.1206696088, 1.9673226523), (-18.1206696088, 0.9005226523))
            Line((-18.1206696088, 0.9005226523), (-17.6126696088, 0.9005226523))
            Line((-17.6126696088, 0.9005226523), (-17.6126696088, -3.6534261235))
            Line((-17.6126696088, -3.6534261235), (-16.3246183846, -3.6534261235))
            Line((-16.3246183846, -3.6534261235), (-17.6126696088, -4.9414773477))
            Line((-17.6126696088, -4.9414773477), (-17.6126696088, -5.4494773477))
            Line((-17.6126696088, -5.4494773477), (-18.1206696088, -5.4494773477))
        make_face()
        Polygon((-17.6126696088, -4.9414773477), (-18.1206696088, -5.4494773477), (-17.6126696088, -5.4494773477), align=None)
        Polygon((-18.6286696088, -5.4494773477), (-18.1206696088, -5.4494773477), (-18.6286696088, -4.9414773477), align=None)
    extrude(amount=F4_DEPTH)


with BuildPart() as f5:
    # F0 (on Top) → F5 (new body)
    with BuildSketch(Plane.XY.offset(F5_START)):
        with BuildLine():
            Line((11.7497303912, 3.4405226523), (10.2765303912, 3.4405226523))
            ThreePointArc((10.2765303912, 3.4405226523), (10.7080206812, 2.3988129423), (11.7497303912, 1.9673226523))
            Line((11.7497303912, 1.9673226523), (11.7497303912, 3.4405226523))
        make_face()
        with BuildLine():
            ThreePointArc((13.2229303912, 3.4405226523), (11.7497303912, 4.9137226523), (10.2765303912, 3.4405226523))
            Line((10.2765303912, 3.4405226523), (11.7497303912, 3.4405226523))
            Line((11.7497303912, 3.4405226523), (11.7497303912, 1.9673226523))
            ThreePointArc((11.7497303912, 1.9673226523), (12.7914401012, 2.3988129423), (13.2229303912, 3.4405226523))
        make_face()
    extrude(amount=-F5_DEPTH)


solid = Compound([f1.part, f2.part, f3.part, f4.part, f5.part])
